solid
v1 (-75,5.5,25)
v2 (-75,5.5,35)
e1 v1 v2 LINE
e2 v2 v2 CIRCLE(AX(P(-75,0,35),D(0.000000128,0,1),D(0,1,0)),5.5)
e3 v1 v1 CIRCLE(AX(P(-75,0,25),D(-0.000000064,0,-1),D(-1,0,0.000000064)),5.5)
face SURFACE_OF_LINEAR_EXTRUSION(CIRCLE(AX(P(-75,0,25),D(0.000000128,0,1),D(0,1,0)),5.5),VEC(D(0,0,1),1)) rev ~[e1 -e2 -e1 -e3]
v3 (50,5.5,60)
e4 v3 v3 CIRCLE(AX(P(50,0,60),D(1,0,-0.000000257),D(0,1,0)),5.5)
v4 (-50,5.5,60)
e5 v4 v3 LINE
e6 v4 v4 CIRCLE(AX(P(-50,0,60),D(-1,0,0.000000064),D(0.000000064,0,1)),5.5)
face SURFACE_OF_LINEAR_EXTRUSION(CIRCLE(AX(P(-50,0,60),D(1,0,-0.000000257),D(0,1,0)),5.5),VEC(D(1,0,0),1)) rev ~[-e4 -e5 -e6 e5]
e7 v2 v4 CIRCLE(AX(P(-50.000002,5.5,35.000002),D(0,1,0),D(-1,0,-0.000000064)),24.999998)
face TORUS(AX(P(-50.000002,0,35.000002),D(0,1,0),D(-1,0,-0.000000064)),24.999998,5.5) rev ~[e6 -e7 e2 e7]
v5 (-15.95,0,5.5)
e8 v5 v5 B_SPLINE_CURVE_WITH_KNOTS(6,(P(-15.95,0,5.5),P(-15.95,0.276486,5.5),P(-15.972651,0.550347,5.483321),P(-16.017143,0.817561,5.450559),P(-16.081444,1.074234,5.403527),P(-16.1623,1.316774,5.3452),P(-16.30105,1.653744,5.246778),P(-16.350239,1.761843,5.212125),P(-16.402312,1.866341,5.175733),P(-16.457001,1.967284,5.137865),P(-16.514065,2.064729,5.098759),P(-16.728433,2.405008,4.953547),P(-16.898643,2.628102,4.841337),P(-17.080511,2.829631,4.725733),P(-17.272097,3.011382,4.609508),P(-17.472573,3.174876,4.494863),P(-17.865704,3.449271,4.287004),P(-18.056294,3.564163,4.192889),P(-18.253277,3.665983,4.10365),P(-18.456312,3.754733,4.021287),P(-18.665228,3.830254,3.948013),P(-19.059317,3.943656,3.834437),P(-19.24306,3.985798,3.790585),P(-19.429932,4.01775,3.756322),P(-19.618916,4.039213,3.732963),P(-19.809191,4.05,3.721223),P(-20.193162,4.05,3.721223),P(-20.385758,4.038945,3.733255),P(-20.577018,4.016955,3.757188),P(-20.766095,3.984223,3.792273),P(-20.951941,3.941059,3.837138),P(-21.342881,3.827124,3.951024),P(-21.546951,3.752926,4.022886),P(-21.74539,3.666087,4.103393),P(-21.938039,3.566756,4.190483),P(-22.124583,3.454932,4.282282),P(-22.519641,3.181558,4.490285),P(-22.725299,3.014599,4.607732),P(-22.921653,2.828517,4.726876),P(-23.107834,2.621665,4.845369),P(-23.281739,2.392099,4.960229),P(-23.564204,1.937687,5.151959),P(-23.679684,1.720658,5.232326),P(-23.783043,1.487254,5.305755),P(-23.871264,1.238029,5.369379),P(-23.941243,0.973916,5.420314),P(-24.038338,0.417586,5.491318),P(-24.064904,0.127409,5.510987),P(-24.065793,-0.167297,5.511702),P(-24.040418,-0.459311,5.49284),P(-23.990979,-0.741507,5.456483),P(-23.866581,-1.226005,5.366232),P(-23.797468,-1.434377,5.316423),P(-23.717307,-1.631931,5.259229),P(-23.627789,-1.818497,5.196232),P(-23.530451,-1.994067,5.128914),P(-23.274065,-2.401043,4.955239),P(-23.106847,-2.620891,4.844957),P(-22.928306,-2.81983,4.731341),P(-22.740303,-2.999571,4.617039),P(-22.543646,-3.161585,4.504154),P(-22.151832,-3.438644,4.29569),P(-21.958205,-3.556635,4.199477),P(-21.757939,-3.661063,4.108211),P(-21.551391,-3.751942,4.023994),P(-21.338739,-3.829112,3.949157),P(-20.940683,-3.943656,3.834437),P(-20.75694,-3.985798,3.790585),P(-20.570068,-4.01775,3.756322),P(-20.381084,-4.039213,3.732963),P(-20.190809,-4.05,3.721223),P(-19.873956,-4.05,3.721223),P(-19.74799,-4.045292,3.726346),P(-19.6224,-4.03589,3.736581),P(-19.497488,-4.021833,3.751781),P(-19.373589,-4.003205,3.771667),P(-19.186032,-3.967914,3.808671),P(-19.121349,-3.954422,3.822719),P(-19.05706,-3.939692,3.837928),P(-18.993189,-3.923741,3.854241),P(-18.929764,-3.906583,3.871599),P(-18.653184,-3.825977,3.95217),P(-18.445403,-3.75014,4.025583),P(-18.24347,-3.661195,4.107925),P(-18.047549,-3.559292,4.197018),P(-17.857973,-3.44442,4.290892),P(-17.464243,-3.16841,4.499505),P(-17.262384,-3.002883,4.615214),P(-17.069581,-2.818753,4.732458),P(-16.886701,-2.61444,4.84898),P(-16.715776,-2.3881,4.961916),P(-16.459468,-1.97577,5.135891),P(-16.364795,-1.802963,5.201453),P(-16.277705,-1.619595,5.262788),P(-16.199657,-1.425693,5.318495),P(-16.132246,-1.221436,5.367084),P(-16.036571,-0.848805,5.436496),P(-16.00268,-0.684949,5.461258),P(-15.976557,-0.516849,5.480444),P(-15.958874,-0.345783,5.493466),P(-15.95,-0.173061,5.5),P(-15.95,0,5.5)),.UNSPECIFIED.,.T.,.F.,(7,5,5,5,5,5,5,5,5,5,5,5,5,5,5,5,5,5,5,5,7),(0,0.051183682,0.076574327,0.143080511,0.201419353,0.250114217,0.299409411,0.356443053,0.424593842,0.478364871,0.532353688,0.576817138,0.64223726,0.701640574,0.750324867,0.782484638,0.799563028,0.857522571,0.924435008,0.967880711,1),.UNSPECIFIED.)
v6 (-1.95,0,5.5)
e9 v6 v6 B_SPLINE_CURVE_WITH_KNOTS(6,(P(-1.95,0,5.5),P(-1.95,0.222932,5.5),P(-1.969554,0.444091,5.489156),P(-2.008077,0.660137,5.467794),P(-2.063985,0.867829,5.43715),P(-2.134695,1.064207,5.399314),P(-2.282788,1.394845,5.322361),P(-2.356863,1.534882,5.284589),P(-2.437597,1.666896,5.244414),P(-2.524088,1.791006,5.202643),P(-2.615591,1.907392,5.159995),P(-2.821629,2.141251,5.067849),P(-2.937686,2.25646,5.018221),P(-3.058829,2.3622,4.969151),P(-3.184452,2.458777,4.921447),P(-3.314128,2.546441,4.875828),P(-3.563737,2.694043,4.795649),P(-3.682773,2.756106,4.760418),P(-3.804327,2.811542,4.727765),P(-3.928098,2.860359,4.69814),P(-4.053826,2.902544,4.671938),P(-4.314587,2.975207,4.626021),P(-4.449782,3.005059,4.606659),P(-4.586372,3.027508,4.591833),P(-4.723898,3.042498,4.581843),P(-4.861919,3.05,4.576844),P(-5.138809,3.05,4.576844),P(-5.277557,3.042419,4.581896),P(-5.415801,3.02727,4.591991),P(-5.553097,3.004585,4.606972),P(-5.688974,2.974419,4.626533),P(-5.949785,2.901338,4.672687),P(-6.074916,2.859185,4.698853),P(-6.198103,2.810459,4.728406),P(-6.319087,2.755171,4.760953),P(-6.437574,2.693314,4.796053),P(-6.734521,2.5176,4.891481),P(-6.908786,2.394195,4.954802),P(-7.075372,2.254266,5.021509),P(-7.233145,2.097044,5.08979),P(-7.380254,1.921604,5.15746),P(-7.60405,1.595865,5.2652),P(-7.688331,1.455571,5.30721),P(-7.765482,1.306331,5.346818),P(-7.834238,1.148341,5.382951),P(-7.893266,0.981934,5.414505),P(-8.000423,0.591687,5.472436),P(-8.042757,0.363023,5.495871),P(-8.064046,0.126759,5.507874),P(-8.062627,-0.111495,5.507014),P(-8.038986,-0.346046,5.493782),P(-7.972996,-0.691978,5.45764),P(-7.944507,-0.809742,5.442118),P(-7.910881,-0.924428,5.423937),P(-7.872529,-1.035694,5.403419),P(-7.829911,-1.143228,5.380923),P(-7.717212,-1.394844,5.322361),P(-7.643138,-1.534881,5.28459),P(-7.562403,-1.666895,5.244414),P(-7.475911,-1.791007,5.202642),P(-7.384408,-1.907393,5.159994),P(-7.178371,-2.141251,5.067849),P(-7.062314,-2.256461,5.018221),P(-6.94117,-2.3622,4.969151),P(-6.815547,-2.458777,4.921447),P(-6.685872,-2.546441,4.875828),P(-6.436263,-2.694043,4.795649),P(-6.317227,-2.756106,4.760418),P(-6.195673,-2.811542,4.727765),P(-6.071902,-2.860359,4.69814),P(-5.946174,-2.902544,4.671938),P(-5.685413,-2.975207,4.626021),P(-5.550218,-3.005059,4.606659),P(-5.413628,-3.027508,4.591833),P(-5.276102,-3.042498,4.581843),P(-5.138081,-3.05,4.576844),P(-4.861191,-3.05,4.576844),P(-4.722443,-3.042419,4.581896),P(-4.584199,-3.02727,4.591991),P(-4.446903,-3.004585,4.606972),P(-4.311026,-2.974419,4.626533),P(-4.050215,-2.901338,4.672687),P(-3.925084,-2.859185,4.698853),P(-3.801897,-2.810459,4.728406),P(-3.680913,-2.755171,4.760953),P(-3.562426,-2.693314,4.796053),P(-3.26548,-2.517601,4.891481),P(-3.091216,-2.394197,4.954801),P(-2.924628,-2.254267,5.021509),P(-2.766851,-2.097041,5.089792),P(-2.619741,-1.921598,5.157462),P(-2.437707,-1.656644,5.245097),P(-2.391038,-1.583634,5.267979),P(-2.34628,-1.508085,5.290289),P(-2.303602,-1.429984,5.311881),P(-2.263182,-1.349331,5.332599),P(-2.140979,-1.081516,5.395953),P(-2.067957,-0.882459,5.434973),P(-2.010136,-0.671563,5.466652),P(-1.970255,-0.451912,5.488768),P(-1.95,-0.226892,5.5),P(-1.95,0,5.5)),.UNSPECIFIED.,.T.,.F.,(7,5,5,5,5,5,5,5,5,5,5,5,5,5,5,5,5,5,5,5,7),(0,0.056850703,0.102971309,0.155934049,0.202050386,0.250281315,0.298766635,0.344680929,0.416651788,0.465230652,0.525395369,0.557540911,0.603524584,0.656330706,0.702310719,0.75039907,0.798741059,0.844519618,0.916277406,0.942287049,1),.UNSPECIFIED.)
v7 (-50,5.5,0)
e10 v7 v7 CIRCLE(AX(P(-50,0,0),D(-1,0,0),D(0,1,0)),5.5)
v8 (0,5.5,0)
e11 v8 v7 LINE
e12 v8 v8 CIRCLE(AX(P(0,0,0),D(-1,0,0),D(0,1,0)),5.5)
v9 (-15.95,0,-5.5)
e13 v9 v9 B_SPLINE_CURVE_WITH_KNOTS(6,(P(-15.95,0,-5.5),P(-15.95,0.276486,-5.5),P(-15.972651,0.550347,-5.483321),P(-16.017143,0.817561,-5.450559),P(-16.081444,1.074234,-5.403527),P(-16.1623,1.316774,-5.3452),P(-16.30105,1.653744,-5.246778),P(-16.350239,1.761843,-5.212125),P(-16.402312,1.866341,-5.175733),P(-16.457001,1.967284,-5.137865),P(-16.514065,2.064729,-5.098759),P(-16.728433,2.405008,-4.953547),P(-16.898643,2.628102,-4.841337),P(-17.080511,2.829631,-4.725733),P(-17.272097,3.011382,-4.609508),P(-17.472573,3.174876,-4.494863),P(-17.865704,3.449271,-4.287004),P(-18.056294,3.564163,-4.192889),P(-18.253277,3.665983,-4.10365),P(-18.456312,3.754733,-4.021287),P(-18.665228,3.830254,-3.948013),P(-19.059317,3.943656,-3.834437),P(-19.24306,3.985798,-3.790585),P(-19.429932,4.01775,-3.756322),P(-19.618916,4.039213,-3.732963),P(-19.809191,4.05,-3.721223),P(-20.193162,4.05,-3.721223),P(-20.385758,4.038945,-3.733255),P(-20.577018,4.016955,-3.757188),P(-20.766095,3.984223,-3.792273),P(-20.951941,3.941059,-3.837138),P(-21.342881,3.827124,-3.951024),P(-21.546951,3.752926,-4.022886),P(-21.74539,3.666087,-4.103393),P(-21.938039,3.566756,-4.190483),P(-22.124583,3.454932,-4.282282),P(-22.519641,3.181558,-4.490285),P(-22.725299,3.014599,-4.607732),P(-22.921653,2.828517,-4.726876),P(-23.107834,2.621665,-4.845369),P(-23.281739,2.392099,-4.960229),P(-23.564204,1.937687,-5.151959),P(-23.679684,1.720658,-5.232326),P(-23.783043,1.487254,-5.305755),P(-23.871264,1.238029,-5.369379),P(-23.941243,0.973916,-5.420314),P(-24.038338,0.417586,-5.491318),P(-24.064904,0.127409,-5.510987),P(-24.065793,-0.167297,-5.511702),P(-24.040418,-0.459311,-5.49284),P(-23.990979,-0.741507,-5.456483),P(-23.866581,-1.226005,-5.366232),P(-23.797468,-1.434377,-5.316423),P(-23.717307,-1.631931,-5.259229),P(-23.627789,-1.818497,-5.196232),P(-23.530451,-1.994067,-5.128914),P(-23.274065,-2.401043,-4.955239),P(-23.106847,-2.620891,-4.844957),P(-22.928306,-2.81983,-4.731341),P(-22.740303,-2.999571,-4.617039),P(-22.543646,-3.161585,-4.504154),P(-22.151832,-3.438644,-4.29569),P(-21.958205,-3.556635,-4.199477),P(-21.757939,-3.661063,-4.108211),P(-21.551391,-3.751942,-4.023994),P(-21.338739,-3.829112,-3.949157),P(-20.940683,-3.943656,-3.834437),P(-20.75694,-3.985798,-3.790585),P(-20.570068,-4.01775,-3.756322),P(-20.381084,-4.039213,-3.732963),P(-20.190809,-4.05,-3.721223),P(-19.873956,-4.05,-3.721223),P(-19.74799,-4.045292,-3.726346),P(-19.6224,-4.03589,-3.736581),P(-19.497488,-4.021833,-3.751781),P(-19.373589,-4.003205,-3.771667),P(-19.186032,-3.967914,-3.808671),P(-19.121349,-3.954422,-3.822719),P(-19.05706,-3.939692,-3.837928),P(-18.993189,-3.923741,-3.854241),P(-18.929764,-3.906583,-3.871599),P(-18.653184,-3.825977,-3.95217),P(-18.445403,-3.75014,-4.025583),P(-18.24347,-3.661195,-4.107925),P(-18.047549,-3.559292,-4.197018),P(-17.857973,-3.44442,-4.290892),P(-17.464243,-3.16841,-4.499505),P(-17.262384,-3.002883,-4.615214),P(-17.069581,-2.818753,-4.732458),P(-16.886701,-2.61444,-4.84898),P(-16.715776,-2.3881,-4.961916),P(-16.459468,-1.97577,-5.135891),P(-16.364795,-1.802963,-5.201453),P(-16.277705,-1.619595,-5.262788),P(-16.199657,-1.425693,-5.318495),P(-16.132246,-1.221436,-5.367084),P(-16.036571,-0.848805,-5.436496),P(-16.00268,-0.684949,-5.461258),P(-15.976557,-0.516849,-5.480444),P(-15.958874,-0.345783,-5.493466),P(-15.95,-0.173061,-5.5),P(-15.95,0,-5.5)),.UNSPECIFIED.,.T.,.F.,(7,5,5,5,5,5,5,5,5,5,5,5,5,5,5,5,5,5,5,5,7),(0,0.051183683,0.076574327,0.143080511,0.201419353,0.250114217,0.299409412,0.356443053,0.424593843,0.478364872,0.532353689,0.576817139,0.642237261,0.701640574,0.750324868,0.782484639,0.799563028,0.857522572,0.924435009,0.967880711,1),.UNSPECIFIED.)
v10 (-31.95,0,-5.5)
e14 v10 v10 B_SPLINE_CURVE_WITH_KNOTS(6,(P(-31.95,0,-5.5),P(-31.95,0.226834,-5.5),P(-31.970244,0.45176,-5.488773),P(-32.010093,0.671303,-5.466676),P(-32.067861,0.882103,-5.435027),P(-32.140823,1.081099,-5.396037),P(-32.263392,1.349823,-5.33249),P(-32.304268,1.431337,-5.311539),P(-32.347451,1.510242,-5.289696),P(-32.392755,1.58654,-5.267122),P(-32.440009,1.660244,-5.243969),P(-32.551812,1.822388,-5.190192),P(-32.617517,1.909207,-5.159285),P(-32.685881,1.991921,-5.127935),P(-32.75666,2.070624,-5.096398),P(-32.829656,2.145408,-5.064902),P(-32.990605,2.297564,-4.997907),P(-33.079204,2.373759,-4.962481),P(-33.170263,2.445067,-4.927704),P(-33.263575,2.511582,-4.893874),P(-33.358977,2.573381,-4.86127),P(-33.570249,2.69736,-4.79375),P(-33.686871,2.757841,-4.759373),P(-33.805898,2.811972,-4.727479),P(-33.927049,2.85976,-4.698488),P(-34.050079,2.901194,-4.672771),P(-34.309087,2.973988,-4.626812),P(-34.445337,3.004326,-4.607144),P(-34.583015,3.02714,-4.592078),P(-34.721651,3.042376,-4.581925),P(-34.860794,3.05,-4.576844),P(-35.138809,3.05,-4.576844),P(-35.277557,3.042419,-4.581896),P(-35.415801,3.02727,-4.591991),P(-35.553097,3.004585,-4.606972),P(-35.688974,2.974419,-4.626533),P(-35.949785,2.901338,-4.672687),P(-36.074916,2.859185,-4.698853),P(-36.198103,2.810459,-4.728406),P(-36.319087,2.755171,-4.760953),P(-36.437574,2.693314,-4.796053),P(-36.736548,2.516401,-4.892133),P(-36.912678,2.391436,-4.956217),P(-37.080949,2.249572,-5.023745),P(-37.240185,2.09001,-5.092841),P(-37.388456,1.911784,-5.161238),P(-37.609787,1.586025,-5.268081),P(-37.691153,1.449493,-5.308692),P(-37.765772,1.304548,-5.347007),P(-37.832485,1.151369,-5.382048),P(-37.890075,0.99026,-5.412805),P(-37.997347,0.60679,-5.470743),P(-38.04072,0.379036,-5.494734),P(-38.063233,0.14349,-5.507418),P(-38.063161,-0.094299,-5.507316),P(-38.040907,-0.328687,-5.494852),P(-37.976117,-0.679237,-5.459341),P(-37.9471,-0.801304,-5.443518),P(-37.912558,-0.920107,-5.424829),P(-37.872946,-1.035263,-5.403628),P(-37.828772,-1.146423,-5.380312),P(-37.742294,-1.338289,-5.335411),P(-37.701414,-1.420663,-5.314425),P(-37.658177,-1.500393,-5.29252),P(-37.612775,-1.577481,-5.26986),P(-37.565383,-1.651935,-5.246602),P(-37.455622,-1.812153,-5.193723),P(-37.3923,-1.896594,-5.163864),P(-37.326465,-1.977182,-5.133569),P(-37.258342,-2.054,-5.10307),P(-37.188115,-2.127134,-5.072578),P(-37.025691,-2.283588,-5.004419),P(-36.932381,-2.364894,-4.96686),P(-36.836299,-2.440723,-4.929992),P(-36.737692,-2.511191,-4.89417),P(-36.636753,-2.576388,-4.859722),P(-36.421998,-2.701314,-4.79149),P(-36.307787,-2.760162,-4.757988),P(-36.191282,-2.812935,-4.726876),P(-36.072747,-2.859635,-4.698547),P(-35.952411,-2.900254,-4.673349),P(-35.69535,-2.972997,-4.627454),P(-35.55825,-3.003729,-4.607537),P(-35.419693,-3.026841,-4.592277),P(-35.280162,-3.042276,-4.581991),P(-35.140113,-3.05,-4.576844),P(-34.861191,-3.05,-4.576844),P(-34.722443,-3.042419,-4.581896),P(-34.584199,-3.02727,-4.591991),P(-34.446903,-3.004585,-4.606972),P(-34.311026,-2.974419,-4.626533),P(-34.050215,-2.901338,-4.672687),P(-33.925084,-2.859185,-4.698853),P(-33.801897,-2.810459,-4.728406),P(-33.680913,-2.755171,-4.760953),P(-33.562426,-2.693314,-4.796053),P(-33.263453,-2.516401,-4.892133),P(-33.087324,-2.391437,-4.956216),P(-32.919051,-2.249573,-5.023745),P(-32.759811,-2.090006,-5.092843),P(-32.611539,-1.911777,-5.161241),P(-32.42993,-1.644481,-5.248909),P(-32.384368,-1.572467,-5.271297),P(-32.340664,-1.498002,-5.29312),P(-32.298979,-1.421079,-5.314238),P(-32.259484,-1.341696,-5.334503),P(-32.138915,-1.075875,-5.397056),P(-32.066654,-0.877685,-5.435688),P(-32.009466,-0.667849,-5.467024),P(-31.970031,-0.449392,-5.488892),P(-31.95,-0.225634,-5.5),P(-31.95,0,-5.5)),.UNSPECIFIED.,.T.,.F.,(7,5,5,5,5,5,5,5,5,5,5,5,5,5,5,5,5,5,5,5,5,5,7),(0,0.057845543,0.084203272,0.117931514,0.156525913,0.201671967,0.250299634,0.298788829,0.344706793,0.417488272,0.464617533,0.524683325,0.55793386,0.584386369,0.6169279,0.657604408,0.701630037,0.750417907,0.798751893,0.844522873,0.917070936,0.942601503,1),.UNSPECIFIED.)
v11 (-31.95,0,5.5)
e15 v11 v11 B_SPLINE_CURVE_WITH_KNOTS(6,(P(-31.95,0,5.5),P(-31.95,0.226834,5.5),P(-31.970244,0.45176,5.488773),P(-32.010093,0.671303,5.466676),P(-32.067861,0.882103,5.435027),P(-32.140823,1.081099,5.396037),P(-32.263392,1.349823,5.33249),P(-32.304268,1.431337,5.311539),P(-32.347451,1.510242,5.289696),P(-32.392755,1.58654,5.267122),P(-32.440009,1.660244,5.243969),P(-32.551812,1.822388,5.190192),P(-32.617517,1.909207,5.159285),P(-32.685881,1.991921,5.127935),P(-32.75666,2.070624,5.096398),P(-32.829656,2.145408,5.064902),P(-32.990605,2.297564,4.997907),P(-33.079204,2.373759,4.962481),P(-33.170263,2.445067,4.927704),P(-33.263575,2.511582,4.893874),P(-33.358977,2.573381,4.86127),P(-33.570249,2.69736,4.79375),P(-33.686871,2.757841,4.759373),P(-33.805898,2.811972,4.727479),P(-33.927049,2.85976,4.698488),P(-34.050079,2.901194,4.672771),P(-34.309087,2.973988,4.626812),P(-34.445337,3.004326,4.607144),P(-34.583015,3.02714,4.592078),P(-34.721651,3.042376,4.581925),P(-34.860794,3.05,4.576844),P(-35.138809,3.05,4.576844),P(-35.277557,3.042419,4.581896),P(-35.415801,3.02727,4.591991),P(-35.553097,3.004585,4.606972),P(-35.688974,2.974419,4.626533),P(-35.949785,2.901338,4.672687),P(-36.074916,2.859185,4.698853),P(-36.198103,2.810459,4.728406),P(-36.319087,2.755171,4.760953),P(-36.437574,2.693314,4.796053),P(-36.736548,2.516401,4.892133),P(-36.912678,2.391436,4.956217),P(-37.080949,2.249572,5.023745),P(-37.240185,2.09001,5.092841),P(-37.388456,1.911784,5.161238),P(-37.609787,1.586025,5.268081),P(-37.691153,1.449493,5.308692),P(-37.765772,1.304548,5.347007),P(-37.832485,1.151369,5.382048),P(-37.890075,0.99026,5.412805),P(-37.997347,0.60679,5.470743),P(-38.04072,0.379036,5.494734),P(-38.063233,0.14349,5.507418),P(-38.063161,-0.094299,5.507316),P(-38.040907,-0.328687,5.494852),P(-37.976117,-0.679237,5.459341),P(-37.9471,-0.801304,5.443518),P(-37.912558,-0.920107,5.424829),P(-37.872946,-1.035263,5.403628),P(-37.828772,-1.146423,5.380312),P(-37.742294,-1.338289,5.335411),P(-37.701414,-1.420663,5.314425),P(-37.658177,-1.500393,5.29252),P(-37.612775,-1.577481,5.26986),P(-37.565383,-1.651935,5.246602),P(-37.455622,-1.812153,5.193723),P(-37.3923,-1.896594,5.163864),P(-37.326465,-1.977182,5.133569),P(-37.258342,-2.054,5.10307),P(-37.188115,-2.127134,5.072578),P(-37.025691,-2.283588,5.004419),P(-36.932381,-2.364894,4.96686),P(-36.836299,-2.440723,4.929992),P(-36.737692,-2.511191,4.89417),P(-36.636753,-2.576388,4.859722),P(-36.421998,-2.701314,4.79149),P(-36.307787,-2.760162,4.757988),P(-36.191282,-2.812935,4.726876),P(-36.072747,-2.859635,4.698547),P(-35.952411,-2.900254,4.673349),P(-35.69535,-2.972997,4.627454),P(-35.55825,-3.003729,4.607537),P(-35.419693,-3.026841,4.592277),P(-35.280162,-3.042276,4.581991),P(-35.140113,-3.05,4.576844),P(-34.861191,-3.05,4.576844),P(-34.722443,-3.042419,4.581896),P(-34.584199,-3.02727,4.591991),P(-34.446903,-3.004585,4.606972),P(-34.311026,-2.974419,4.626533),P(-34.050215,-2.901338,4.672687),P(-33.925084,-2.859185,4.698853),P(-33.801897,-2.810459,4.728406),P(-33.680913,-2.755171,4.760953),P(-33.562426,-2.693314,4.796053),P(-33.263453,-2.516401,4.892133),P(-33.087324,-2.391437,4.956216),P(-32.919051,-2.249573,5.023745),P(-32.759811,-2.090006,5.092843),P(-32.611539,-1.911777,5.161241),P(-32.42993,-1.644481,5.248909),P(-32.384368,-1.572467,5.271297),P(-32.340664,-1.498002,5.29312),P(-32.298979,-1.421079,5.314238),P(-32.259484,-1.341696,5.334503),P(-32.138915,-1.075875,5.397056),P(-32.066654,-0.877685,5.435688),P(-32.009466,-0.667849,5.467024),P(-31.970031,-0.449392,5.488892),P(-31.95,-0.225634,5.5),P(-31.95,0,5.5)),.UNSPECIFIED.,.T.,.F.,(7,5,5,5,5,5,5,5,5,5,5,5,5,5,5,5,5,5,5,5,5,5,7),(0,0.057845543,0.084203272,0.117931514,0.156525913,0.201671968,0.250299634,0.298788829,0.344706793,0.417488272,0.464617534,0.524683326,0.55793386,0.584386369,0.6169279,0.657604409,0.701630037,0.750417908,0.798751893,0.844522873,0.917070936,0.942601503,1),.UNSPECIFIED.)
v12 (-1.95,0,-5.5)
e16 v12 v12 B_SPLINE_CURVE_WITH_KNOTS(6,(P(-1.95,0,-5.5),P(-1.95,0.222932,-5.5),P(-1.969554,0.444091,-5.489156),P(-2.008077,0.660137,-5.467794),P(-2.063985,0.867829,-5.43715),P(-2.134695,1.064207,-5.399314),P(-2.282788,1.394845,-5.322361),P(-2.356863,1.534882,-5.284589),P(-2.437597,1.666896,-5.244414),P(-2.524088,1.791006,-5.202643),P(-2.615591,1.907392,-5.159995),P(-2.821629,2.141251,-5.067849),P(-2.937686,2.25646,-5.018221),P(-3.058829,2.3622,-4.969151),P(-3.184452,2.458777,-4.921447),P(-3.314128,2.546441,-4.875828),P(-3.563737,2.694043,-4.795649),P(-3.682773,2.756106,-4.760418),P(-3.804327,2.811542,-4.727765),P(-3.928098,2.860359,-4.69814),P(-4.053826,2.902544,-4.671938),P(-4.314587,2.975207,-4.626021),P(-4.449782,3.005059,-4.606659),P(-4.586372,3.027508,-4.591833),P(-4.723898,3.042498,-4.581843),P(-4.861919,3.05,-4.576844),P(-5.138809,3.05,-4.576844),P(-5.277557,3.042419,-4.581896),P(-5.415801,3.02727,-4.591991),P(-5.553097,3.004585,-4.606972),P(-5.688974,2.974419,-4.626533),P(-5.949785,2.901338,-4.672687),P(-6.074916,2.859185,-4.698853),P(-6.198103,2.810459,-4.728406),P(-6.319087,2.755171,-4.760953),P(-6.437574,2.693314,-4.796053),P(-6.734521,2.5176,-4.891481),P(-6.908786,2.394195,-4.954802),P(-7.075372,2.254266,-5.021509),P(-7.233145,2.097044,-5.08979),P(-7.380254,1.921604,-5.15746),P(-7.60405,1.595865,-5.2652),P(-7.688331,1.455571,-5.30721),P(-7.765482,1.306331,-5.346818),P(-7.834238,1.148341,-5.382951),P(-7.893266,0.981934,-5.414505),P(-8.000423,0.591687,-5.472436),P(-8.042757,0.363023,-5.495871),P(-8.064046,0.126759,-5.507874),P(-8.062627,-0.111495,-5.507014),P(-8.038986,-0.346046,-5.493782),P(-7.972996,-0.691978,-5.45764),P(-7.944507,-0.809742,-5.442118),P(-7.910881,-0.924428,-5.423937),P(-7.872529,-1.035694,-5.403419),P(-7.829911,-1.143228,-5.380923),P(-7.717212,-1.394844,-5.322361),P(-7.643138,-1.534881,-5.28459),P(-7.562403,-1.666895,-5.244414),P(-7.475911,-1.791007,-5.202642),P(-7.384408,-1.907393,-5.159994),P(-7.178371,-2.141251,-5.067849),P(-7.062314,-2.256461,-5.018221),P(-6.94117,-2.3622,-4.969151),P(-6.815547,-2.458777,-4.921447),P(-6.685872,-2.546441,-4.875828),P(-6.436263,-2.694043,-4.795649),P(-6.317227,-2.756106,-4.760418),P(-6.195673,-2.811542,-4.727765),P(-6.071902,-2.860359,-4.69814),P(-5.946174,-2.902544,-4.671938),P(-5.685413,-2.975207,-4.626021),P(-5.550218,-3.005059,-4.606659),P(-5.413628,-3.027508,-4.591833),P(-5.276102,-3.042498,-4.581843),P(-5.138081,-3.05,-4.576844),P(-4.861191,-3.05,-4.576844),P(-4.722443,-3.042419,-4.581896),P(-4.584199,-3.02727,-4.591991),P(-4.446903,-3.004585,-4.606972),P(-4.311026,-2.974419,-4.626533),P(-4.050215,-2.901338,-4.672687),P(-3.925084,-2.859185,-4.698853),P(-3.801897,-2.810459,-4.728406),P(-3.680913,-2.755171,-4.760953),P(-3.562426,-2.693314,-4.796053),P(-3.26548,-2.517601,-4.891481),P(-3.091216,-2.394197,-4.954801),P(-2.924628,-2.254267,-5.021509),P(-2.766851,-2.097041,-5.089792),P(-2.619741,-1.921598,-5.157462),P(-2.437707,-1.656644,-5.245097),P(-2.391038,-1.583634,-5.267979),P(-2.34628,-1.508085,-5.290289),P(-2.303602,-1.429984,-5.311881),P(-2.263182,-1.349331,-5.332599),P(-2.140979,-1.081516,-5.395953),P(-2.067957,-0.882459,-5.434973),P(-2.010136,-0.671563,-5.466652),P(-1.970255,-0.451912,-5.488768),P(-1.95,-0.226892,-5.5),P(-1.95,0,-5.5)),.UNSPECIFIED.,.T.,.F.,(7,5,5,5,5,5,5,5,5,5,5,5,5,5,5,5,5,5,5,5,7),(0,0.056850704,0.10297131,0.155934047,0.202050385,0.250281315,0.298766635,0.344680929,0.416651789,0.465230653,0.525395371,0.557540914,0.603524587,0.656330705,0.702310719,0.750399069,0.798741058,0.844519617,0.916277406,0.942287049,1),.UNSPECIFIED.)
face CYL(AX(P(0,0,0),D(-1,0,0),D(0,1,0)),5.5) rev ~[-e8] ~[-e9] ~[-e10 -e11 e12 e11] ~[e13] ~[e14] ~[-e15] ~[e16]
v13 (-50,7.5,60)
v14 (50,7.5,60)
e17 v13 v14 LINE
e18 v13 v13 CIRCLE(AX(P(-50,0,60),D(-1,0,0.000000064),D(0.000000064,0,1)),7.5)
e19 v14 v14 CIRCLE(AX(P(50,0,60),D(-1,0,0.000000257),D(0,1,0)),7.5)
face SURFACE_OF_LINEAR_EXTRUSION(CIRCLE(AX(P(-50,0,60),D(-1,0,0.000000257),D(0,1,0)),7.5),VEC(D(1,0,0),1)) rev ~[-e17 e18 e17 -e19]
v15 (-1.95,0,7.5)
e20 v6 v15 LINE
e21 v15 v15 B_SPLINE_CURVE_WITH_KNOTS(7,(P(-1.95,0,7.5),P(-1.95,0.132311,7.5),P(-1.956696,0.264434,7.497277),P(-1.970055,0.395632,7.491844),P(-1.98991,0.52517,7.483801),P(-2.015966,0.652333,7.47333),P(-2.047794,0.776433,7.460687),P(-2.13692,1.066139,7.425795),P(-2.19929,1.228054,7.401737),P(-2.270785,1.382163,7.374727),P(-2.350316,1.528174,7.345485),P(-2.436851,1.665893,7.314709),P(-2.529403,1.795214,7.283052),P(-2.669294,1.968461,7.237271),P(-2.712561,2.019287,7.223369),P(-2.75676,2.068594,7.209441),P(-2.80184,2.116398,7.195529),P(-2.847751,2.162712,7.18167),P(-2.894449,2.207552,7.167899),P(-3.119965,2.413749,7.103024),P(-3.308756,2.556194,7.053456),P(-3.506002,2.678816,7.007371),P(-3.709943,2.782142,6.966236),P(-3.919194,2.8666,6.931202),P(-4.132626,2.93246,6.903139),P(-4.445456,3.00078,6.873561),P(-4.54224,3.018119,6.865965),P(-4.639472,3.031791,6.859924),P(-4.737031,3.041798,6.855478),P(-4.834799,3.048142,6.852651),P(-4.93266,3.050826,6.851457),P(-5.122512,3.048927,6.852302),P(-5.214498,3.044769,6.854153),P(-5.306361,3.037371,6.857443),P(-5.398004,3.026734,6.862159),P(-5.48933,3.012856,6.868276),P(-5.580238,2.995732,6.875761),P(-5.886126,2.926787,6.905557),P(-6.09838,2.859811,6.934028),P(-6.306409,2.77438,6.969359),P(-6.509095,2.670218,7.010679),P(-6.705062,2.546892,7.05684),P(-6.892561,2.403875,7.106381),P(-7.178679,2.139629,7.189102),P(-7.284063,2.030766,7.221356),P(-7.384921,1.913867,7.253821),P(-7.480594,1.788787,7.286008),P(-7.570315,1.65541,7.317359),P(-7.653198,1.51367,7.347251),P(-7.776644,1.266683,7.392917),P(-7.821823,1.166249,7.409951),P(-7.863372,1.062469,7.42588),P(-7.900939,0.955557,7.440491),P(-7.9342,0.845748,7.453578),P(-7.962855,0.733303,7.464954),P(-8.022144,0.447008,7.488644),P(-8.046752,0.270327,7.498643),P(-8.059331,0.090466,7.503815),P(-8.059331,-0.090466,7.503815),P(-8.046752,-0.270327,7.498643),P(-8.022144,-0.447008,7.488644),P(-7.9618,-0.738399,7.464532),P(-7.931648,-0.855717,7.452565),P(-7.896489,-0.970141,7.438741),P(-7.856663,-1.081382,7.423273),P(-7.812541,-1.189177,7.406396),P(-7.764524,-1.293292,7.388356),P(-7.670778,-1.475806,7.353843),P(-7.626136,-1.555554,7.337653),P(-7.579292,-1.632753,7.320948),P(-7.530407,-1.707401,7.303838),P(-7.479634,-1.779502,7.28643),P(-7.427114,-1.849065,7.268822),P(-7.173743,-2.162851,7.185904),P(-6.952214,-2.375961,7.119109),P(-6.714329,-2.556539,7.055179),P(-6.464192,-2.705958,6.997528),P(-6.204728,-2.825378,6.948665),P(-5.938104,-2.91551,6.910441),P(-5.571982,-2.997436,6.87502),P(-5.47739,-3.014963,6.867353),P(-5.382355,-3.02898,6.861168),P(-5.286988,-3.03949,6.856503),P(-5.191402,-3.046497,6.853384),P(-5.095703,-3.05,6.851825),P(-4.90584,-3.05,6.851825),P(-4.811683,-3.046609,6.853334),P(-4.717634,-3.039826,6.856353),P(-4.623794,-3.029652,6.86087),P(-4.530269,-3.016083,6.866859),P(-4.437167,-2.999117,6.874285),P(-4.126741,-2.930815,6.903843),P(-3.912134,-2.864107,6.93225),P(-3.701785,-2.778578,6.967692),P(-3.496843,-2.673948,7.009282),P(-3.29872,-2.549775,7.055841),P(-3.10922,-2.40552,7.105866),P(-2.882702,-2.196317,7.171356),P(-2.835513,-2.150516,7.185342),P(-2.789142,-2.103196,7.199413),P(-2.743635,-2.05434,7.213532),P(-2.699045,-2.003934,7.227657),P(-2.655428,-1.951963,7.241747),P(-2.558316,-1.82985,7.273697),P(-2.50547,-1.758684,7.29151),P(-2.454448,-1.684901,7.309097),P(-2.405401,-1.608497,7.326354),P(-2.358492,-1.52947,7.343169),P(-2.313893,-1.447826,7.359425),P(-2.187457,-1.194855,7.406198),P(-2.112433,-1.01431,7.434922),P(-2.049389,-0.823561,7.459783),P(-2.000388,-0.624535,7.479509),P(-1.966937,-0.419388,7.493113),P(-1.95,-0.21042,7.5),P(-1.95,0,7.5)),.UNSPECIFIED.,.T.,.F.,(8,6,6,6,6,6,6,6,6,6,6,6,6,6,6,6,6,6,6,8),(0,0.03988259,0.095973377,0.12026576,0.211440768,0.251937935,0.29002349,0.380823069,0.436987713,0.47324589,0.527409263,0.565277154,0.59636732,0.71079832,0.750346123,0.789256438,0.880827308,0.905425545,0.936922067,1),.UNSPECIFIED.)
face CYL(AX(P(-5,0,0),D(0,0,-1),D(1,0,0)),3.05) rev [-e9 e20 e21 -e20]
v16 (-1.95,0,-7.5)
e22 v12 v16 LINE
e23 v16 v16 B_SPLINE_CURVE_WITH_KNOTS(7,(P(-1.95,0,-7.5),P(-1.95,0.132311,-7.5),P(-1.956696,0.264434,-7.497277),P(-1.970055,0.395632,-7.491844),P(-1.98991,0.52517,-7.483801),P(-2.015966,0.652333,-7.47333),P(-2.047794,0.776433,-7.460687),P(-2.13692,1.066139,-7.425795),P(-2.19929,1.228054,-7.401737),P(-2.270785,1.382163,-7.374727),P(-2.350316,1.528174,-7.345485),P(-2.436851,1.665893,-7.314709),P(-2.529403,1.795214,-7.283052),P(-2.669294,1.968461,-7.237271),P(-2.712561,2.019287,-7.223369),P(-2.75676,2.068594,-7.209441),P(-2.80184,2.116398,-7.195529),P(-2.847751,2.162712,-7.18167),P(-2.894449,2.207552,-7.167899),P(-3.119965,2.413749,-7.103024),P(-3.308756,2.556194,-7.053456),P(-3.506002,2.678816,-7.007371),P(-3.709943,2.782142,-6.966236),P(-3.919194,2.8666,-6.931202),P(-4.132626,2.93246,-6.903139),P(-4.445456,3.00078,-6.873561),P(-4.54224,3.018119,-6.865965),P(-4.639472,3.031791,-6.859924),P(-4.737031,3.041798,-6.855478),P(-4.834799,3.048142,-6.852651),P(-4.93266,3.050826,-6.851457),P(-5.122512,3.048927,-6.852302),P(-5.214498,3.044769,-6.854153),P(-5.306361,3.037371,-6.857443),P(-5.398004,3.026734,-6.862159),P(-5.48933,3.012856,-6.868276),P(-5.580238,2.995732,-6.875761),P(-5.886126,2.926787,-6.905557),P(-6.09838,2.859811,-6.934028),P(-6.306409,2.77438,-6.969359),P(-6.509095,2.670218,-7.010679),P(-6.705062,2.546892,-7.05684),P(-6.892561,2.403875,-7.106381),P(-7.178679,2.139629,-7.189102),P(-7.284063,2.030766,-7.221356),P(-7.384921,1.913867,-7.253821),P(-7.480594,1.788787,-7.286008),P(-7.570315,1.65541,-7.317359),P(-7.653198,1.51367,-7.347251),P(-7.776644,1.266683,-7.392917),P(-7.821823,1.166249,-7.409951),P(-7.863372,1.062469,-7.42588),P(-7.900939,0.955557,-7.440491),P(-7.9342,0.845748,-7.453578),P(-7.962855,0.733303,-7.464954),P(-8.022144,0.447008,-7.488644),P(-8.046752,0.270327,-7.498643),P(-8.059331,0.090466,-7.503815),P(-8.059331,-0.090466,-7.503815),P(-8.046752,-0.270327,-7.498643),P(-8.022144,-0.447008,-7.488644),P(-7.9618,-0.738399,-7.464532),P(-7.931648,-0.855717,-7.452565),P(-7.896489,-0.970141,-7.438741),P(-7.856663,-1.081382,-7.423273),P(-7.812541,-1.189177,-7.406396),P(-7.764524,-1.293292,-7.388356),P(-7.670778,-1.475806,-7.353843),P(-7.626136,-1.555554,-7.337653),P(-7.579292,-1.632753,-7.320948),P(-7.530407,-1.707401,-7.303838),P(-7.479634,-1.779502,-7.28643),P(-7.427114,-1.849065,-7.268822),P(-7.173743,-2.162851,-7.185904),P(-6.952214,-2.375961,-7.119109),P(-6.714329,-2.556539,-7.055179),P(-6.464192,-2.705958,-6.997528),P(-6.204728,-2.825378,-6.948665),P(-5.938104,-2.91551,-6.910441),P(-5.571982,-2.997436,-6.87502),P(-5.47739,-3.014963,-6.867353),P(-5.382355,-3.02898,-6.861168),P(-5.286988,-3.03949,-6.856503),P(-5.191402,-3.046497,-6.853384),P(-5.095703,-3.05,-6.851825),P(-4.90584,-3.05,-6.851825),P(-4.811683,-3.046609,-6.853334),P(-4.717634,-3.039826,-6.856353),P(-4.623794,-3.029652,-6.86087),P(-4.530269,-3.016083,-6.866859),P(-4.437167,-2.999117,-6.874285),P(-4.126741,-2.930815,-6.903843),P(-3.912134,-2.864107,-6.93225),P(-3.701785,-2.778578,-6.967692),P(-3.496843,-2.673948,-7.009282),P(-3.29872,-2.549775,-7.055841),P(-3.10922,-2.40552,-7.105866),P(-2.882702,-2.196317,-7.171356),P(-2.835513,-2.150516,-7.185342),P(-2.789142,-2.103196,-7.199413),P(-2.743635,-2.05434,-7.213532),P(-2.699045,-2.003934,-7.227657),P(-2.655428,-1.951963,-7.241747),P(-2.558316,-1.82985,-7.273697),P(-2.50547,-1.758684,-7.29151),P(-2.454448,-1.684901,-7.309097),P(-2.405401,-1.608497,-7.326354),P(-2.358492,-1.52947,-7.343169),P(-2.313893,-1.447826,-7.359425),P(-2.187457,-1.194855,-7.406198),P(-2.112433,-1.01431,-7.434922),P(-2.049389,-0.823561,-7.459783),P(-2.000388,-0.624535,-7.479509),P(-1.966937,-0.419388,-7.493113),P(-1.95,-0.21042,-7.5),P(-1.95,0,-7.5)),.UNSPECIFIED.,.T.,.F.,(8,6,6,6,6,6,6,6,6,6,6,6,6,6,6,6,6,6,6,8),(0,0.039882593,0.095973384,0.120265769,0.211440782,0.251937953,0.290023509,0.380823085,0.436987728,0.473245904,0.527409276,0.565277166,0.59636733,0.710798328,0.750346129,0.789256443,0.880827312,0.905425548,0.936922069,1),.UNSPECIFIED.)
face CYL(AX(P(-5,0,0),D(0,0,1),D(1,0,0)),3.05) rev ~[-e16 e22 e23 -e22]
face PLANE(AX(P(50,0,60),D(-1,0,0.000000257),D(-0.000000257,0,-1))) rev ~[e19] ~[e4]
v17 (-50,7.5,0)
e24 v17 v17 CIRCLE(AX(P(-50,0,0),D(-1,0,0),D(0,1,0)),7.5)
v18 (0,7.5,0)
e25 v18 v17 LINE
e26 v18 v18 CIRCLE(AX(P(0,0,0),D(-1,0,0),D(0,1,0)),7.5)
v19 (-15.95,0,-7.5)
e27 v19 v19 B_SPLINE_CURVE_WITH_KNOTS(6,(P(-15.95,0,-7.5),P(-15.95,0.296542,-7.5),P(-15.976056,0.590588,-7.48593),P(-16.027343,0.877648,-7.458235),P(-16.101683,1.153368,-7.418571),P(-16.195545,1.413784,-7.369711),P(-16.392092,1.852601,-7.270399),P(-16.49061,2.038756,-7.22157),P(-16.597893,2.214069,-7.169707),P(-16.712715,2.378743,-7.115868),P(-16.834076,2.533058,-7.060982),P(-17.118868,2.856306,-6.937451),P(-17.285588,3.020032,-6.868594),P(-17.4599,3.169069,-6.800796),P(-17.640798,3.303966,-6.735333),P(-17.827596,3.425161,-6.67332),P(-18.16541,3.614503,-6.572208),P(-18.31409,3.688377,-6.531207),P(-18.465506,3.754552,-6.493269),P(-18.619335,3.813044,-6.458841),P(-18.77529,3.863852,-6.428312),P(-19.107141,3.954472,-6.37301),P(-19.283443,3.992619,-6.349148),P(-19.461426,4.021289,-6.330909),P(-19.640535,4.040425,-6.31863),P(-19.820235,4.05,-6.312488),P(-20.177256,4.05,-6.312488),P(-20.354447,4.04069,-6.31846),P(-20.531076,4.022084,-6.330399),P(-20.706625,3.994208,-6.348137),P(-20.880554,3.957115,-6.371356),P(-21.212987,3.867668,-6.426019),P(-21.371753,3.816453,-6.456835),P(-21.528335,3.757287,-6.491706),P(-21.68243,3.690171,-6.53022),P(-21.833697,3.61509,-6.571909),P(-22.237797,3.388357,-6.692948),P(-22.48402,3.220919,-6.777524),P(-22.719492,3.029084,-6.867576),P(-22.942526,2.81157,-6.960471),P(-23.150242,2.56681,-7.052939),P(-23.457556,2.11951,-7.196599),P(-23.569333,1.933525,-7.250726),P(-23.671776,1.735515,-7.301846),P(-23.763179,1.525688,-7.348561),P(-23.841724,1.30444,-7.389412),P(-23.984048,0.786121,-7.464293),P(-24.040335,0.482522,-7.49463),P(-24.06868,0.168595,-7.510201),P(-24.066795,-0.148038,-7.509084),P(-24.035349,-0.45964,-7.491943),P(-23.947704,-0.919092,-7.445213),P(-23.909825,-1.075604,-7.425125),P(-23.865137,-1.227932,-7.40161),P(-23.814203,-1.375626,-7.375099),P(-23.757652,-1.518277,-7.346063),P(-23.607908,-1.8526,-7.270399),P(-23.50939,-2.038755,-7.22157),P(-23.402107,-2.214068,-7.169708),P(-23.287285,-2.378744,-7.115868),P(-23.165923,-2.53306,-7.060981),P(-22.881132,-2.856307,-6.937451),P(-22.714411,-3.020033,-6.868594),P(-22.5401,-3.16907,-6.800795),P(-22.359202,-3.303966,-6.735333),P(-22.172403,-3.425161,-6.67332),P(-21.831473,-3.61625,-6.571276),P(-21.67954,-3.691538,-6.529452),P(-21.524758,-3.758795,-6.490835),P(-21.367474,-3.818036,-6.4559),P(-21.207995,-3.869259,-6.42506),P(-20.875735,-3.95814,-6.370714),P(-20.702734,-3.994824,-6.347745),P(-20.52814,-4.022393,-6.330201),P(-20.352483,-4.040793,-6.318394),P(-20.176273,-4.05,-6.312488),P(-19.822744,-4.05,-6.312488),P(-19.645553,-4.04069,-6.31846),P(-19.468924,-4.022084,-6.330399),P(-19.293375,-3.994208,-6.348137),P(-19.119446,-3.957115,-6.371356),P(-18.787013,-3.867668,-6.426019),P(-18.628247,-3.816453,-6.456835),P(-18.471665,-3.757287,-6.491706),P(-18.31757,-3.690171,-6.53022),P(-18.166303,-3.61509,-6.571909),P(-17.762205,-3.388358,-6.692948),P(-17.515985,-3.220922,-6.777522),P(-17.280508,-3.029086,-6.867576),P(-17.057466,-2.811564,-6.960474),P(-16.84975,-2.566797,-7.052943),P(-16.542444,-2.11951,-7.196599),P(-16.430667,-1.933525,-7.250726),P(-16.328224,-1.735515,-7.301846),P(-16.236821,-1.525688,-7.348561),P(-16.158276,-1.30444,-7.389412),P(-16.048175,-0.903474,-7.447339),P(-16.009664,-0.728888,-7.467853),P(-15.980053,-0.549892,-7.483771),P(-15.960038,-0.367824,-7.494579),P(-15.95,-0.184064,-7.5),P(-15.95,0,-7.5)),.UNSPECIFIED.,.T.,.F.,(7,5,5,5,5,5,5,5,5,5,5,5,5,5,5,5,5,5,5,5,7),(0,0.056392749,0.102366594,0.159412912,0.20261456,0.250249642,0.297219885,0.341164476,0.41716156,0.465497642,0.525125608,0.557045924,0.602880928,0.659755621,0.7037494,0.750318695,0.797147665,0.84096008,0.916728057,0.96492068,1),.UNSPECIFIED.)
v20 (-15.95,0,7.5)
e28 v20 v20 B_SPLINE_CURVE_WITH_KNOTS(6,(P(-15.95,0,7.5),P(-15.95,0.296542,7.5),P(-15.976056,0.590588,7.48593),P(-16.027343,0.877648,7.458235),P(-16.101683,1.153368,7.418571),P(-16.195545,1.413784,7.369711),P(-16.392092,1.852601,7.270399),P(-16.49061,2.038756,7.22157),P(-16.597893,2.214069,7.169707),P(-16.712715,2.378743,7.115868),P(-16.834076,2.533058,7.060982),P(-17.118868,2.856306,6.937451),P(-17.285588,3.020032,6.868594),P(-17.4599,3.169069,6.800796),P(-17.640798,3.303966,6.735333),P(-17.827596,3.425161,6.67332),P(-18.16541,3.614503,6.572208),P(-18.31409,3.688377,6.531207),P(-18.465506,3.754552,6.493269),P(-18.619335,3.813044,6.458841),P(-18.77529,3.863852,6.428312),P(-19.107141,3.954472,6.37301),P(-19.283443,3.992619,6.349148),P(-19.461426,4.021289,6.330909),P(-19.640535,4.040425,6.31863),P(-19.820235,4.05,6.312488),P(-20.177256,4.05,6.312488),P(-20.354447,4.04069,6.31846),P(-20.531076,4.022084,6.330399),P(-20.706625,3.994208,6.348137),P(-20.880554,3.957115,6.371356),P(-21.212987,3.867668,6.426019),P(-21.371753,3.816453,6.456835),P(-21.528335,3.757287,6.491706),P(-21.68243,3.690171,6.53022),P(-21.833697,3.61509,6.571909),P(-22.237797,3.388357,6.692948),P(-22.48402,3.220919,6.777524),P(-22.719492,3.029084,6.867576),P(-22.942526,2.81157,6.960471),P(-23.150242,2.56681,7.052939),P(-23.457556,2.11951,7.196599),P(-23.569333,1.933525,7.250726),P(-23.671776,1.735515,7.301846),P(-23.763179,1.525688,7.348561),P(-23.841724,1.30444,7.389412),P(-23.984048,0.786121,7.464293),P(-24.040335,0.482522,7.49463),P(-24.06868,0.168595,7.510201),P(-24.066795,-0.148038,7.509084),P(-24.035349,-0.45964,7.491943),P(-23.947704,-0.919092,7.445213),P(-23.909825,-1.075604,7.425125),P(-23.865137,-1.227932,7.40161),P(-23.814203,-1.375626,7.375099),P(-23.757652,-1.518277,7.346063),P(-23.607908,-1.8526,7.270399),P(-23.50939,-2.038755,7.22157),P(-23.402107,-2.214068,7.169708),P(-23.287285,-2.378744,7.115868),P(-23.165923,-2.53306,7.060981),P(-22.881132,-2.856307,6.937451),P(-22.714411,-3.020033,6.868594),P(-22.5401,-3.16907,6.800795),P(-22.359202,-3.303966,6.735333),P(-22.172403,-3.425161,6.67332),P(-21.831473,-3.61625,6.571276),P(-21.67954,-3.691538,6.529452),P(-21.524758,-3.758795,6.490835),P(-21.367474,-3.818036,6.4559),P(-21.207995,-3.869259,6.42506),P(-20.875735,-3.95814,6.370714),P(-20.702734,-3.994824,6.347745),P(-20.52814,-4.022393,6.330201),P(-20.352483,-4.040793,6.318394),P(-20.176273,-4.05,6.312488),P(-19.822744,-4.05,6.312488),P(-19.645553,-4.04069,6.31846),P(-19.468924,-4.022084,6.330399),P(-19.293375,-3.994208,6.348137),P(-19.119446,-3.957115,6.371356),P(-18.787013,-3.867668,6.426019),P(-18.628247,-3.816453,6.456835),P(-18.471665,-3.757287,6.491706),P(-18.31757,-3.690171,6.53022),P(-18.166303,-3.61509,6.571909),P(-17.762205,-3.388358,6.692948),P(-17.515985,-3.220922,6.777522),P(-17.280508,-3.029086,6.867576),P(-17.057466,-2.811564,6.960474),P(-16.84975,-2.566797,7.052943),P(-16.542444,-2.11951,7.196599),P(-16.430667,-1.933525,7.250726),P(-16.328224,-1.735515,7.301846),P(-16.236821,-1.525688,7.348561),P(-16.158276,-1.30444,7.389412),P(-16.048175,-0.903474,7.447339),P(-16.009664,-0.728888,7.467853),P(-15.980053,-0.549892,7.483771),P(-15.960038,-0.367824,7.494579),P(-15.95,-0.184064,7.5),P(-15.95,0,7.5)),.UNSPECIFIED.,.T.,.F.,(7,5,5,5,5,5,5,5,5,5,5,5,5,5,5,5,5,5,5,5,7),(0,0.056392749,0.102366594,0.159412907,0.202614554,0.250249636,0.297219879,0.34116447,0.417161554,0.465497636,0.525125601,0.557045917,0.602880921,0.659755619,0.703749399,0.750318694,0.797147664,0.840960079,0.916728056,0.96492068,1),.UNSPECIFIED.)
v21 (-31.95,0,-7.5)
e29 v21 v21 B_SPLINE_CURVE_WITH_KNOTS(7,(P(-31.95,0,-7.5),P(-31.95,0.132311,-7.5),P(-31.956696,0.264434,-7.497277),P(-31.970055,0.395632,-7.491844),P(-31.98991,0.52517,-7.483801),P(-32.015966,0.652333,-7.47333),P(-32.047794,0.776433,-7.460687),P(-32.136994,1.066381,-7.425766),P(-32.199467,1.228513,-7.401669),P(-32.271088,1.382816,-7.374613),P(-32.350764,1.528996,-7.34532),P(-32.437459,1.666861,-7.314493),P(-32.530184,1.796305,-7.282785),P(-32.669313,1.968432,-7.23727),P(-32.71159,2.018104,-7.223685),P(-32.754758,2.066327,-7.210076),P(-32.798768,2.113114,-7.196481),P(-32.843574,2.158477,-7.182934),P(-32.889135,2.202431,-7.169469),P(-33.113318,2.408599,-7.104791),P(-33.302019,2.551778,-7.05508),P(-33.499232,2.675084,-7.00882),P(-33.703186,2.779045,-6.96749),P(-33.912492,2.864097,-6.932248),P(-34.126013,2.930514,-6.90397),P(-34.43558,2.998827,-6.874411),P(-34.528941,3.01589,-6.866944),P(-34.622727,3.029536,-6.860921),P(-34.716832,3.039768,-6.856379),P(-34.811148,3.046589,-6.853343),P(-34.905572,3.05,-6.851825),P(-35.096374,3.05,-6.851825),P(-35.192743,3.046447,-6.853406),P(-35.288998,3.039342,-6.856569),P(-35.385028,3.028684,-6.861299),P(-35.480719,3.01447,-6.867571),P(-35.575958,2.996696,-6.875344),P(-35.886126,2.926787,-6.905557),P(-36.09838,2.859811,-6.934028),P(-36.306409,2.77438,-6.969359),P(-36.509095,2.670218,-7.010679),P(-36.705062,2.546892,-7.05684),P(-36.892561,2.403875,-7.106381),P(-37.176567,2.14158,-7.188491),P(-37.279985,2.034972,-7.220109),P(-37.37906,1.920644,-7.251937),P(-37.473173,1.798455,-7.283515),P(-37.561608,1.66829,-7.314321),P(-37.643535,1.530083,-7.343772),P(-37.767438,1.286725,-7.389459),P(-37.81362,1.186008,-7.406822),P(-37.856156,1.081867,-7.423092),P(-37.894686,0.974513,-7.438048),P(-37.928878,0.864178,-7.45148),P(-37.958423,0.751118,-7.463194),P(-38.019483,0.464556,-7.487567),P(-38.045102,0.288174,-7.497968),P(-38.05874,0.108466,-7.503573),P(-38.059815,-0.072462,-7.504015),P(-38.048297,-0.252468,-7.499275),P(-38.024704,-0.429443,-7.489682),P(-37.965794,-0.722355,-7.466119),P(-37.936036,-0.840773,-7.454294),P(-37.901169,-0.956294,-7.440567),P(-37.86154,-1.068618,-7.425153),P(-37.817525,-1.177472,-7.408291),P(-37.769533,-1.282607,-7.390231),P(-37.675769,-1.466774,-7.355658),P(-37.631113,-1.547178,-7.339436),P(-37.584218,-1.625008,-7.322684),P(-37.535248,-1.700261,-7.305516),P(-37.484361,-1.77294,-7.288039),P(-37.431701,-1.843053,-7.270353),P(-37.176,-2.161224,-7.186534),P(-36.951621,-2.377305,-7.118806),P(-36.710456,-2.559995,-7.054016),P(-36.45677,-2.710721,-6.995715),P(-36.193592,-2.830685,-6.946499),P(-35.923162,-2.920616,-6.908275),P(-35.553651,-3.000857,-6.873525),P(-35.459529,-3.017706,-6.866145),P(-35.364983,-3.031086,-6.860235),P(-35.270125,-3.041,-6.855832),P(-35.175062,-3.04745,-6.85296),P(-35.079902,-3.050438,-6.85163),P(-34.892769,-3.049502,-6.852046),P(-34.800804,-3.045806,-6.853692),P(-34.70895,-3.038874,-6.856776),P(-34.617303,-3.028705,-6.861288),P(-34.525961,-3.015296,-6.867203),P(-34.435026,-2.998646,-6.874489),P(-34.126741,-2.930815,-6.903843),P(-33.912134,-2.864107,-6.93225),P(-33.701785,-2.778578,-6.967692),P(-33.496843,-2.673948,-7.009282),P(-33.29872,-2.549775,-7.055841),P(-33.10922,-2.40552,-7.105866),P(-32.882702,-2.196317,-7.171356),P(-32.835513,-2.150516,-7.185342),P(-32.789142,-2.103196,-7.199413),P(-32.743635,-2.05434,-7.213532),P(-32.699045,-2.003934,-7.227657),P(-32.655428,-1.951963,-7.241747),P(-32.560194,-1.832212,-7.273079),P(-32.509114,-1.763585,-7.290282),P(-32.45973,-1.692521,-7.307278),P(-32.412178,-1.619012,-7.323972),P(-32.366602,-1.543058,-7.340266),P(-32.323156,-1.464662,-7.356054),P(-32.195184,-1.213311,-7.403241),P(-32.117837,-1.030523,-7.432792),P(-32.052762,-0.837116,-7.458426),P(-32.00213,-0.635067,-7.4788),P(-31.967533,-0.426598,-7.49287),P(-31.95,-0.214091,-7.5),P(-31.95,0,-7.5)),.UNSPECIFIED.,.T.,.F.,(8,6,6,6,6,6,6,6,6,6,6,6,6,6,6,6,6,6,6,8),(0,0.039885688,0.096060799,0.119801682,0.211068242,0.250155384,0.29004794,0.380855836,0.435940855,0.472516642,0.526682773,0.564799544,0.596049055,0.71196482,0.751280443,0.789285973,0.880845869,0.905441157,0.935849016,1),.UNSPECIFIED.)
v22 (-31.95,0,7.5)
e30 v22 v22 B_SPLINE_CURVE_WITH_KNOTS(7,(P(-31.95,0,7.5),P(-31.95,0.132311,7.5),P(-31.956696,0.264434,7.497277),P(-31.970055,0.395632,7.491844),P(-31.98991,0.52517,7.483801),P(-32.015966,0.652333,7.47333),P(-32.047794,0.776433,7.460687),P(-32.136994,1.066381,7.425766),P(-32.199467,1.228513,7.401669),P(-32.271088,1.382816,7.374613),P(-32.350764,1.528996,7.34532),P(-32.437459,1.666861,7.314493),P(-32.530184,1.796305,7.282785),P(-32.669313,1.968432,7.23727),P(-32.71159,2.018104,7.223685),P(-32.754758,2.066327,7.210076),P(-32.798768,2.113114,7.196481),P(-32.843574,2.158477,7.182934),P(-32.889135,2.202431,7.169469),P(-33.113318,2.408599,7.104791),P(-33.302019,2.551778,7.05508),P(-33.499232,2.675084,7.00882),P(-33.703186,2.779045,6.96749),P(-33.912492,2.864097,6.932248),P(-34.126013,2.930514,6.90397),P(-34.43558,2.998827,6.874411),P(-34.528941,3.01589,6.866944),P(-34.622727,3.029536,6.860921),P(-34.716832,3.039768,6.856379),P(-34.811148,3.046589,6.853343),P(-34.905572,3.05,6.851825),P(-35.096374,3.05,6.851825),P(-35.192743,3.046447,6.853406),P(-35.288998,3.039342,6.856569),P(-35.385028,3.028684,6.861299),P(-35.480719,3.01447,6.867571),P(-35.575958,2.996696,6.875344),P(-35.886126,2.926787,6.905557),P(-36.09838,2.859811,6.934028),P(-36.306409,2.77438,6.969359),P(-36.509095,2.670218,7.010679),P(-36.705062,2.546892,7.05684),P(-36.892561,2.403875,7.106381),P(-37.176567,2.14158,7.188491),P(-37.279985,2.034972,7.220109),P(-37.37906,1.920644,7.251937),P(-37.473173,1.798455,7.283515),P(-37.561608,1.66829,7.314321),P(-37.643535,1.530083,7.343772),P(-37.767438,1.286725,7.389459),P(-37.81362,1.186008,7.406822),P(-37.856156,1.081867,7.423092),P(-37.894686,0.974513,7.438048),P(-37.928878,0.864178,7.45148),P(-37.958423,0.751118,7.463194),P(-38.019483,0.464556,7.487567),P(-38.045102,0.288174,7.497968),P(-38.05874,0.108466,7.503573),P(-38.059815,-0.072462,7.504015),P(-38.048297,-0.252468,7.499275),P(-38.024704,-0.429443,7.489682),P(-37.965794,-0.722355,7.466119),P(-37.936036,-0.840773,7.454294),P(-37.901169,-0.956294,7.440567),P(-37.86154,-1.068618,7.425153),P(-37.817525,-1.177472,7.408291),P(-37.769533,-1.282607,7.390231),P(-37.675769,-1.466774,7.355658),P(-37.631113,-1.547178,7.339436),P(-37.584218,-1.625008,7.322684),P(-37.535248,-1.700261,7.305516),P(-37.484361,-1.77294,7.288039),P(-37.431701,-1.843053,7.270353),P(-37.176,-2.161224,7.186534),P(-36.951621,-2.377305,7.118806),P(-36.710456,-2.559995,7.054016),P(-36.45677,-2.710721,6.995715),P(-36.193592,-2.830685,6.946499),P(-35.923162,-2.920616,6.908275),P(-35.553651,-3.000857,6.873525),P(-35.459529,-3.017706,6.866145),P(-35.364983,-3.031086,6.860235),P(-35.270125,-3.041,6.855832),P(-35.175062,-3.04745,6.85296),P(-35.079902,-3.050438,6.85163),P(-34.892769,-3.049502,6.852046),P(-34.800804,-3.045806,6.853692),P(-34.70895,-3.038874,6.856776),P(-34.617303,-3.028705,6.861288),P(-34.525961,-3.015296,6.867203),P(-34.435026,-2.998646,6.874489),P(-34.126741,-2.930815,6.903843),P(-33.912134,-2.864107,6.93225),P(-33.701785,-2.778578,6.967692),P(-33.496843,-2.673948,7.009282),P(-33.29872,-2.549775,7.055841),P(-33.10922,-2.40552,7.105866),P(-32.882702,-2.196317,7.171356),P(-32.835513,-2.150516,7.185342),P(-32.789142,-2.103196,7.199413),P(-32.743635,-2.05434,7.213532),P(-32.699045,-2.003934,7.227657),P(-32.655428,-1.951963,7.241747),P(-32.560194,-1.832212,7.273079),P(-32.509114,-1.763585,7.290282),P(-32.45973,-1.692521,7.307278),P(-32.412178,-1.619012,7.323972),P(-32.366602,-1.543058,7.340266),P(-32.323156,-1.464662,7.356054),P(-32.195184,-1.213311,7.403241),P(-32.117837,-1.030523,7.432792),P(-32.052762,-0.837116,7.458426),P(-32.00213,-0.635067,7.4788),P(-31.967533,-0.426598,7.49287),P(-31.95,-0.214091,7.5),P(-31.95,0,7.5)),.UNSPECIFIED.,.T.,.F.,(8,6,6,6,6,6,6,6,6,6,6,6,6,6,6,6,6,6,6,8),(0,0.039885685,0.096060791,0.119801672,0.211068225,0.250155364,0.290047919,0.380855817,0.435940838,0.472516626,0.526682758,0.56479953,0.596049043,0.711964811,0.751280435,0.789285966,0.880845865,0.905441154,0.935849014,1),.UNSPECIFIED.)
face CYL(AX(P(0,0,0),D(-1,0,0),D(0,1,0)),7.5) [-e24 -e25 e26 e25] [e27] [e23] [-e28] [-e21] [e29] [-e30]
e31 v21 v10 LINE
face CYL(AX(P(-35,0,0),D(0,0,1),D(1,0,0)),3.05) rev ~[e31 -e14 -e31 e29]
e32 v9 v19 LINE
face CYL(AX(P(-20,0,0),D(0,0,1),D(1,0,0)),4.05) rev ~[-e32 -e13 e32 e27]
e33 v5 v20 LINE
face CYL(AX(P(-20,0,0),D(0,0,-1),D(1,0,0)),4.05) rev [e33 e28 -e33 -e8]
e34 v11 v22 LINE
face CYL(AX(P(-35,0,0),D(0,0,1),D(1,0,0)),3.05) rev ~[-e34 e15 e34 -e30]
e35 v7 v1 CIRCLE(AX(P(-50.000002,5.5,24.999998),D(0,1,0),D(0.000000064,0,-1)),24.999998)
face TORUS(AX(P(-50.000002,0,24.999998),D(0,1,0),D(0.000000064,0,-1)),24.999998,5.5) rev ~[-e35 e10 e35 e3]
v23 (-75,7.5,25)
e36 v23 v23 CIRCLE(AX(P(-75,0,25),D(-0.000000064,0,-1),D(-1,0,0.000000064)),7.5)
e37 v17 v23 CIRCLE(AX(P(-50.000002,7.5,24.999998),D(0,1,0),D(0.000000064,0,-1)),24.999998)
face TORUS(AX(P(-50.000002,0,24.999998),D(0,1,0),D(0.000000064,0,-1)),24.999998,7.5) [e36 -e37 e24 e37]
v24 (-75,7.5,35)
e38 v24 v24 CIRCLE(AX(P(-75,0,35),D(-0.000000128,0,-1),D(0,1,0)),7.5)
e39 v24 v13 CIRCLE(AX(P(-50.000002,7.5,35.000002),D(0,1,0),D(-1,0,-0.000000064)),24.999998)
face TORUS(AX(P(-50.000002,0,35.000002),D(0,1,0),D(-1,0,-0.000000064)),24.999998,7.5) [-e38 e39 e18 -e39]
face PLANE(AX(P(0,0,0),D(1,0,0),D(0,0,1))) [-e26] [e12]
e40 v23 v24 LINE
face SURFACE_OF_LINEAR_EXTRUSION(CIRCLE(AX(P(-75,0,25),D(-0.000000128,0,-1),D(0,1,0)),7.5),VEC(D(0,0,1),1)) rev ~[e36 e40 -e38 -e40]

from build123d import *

# Parameters (mm, degrees)
F0_R     = 7.5
F0_R_2   = 5.5
F3_R     = 4.05
F3_R_2   = 3.05
F4_DEPTH = 15


with BuildPart() as f2:
    # F2: sweep along a path in F1
    with BuildLine(Plane.XZ) as f2_path:
        Line((0, 0), (-50, 0))
        ThreePointArc((-50, 0), (-67.67767, 7.32233), (-75, 25))
        Line((-75, 25), (-75, 35))
        ThreePointArc((-75, 35), (-67.67767, 52.67767), (-50, 60))
        Line((-50, 60), (50, 60))
    # F0 (on Right) → F2 (sweep)
    with BuildSketch(Plane.YZ):
        Circle(F0_R)
        Circle(F0_R_2, mode=Mode.SUBTRACT)
    sweep(path=f2_path.line)


with BuildPart() as f4:
    # F3 (on Top) → F4 (new body, symmetric)
    with BuildSketch(Plane.XY):
        with Locations((-20, 0)):
            Circle(F3_R)
        with Locations((-5, 0)):
            Circle(F3_R_2)
        with Locations((-35, 0)):
            Circle(F3_R_2)
    extrude(amount=F4_DEPTH, both=True)


with BuildPart() as f2_1:
    add(f2.part)

    # F5: cut F4
    add(f4.part, mode=Mode.SUBTRACT)


solid = f2_1.part
